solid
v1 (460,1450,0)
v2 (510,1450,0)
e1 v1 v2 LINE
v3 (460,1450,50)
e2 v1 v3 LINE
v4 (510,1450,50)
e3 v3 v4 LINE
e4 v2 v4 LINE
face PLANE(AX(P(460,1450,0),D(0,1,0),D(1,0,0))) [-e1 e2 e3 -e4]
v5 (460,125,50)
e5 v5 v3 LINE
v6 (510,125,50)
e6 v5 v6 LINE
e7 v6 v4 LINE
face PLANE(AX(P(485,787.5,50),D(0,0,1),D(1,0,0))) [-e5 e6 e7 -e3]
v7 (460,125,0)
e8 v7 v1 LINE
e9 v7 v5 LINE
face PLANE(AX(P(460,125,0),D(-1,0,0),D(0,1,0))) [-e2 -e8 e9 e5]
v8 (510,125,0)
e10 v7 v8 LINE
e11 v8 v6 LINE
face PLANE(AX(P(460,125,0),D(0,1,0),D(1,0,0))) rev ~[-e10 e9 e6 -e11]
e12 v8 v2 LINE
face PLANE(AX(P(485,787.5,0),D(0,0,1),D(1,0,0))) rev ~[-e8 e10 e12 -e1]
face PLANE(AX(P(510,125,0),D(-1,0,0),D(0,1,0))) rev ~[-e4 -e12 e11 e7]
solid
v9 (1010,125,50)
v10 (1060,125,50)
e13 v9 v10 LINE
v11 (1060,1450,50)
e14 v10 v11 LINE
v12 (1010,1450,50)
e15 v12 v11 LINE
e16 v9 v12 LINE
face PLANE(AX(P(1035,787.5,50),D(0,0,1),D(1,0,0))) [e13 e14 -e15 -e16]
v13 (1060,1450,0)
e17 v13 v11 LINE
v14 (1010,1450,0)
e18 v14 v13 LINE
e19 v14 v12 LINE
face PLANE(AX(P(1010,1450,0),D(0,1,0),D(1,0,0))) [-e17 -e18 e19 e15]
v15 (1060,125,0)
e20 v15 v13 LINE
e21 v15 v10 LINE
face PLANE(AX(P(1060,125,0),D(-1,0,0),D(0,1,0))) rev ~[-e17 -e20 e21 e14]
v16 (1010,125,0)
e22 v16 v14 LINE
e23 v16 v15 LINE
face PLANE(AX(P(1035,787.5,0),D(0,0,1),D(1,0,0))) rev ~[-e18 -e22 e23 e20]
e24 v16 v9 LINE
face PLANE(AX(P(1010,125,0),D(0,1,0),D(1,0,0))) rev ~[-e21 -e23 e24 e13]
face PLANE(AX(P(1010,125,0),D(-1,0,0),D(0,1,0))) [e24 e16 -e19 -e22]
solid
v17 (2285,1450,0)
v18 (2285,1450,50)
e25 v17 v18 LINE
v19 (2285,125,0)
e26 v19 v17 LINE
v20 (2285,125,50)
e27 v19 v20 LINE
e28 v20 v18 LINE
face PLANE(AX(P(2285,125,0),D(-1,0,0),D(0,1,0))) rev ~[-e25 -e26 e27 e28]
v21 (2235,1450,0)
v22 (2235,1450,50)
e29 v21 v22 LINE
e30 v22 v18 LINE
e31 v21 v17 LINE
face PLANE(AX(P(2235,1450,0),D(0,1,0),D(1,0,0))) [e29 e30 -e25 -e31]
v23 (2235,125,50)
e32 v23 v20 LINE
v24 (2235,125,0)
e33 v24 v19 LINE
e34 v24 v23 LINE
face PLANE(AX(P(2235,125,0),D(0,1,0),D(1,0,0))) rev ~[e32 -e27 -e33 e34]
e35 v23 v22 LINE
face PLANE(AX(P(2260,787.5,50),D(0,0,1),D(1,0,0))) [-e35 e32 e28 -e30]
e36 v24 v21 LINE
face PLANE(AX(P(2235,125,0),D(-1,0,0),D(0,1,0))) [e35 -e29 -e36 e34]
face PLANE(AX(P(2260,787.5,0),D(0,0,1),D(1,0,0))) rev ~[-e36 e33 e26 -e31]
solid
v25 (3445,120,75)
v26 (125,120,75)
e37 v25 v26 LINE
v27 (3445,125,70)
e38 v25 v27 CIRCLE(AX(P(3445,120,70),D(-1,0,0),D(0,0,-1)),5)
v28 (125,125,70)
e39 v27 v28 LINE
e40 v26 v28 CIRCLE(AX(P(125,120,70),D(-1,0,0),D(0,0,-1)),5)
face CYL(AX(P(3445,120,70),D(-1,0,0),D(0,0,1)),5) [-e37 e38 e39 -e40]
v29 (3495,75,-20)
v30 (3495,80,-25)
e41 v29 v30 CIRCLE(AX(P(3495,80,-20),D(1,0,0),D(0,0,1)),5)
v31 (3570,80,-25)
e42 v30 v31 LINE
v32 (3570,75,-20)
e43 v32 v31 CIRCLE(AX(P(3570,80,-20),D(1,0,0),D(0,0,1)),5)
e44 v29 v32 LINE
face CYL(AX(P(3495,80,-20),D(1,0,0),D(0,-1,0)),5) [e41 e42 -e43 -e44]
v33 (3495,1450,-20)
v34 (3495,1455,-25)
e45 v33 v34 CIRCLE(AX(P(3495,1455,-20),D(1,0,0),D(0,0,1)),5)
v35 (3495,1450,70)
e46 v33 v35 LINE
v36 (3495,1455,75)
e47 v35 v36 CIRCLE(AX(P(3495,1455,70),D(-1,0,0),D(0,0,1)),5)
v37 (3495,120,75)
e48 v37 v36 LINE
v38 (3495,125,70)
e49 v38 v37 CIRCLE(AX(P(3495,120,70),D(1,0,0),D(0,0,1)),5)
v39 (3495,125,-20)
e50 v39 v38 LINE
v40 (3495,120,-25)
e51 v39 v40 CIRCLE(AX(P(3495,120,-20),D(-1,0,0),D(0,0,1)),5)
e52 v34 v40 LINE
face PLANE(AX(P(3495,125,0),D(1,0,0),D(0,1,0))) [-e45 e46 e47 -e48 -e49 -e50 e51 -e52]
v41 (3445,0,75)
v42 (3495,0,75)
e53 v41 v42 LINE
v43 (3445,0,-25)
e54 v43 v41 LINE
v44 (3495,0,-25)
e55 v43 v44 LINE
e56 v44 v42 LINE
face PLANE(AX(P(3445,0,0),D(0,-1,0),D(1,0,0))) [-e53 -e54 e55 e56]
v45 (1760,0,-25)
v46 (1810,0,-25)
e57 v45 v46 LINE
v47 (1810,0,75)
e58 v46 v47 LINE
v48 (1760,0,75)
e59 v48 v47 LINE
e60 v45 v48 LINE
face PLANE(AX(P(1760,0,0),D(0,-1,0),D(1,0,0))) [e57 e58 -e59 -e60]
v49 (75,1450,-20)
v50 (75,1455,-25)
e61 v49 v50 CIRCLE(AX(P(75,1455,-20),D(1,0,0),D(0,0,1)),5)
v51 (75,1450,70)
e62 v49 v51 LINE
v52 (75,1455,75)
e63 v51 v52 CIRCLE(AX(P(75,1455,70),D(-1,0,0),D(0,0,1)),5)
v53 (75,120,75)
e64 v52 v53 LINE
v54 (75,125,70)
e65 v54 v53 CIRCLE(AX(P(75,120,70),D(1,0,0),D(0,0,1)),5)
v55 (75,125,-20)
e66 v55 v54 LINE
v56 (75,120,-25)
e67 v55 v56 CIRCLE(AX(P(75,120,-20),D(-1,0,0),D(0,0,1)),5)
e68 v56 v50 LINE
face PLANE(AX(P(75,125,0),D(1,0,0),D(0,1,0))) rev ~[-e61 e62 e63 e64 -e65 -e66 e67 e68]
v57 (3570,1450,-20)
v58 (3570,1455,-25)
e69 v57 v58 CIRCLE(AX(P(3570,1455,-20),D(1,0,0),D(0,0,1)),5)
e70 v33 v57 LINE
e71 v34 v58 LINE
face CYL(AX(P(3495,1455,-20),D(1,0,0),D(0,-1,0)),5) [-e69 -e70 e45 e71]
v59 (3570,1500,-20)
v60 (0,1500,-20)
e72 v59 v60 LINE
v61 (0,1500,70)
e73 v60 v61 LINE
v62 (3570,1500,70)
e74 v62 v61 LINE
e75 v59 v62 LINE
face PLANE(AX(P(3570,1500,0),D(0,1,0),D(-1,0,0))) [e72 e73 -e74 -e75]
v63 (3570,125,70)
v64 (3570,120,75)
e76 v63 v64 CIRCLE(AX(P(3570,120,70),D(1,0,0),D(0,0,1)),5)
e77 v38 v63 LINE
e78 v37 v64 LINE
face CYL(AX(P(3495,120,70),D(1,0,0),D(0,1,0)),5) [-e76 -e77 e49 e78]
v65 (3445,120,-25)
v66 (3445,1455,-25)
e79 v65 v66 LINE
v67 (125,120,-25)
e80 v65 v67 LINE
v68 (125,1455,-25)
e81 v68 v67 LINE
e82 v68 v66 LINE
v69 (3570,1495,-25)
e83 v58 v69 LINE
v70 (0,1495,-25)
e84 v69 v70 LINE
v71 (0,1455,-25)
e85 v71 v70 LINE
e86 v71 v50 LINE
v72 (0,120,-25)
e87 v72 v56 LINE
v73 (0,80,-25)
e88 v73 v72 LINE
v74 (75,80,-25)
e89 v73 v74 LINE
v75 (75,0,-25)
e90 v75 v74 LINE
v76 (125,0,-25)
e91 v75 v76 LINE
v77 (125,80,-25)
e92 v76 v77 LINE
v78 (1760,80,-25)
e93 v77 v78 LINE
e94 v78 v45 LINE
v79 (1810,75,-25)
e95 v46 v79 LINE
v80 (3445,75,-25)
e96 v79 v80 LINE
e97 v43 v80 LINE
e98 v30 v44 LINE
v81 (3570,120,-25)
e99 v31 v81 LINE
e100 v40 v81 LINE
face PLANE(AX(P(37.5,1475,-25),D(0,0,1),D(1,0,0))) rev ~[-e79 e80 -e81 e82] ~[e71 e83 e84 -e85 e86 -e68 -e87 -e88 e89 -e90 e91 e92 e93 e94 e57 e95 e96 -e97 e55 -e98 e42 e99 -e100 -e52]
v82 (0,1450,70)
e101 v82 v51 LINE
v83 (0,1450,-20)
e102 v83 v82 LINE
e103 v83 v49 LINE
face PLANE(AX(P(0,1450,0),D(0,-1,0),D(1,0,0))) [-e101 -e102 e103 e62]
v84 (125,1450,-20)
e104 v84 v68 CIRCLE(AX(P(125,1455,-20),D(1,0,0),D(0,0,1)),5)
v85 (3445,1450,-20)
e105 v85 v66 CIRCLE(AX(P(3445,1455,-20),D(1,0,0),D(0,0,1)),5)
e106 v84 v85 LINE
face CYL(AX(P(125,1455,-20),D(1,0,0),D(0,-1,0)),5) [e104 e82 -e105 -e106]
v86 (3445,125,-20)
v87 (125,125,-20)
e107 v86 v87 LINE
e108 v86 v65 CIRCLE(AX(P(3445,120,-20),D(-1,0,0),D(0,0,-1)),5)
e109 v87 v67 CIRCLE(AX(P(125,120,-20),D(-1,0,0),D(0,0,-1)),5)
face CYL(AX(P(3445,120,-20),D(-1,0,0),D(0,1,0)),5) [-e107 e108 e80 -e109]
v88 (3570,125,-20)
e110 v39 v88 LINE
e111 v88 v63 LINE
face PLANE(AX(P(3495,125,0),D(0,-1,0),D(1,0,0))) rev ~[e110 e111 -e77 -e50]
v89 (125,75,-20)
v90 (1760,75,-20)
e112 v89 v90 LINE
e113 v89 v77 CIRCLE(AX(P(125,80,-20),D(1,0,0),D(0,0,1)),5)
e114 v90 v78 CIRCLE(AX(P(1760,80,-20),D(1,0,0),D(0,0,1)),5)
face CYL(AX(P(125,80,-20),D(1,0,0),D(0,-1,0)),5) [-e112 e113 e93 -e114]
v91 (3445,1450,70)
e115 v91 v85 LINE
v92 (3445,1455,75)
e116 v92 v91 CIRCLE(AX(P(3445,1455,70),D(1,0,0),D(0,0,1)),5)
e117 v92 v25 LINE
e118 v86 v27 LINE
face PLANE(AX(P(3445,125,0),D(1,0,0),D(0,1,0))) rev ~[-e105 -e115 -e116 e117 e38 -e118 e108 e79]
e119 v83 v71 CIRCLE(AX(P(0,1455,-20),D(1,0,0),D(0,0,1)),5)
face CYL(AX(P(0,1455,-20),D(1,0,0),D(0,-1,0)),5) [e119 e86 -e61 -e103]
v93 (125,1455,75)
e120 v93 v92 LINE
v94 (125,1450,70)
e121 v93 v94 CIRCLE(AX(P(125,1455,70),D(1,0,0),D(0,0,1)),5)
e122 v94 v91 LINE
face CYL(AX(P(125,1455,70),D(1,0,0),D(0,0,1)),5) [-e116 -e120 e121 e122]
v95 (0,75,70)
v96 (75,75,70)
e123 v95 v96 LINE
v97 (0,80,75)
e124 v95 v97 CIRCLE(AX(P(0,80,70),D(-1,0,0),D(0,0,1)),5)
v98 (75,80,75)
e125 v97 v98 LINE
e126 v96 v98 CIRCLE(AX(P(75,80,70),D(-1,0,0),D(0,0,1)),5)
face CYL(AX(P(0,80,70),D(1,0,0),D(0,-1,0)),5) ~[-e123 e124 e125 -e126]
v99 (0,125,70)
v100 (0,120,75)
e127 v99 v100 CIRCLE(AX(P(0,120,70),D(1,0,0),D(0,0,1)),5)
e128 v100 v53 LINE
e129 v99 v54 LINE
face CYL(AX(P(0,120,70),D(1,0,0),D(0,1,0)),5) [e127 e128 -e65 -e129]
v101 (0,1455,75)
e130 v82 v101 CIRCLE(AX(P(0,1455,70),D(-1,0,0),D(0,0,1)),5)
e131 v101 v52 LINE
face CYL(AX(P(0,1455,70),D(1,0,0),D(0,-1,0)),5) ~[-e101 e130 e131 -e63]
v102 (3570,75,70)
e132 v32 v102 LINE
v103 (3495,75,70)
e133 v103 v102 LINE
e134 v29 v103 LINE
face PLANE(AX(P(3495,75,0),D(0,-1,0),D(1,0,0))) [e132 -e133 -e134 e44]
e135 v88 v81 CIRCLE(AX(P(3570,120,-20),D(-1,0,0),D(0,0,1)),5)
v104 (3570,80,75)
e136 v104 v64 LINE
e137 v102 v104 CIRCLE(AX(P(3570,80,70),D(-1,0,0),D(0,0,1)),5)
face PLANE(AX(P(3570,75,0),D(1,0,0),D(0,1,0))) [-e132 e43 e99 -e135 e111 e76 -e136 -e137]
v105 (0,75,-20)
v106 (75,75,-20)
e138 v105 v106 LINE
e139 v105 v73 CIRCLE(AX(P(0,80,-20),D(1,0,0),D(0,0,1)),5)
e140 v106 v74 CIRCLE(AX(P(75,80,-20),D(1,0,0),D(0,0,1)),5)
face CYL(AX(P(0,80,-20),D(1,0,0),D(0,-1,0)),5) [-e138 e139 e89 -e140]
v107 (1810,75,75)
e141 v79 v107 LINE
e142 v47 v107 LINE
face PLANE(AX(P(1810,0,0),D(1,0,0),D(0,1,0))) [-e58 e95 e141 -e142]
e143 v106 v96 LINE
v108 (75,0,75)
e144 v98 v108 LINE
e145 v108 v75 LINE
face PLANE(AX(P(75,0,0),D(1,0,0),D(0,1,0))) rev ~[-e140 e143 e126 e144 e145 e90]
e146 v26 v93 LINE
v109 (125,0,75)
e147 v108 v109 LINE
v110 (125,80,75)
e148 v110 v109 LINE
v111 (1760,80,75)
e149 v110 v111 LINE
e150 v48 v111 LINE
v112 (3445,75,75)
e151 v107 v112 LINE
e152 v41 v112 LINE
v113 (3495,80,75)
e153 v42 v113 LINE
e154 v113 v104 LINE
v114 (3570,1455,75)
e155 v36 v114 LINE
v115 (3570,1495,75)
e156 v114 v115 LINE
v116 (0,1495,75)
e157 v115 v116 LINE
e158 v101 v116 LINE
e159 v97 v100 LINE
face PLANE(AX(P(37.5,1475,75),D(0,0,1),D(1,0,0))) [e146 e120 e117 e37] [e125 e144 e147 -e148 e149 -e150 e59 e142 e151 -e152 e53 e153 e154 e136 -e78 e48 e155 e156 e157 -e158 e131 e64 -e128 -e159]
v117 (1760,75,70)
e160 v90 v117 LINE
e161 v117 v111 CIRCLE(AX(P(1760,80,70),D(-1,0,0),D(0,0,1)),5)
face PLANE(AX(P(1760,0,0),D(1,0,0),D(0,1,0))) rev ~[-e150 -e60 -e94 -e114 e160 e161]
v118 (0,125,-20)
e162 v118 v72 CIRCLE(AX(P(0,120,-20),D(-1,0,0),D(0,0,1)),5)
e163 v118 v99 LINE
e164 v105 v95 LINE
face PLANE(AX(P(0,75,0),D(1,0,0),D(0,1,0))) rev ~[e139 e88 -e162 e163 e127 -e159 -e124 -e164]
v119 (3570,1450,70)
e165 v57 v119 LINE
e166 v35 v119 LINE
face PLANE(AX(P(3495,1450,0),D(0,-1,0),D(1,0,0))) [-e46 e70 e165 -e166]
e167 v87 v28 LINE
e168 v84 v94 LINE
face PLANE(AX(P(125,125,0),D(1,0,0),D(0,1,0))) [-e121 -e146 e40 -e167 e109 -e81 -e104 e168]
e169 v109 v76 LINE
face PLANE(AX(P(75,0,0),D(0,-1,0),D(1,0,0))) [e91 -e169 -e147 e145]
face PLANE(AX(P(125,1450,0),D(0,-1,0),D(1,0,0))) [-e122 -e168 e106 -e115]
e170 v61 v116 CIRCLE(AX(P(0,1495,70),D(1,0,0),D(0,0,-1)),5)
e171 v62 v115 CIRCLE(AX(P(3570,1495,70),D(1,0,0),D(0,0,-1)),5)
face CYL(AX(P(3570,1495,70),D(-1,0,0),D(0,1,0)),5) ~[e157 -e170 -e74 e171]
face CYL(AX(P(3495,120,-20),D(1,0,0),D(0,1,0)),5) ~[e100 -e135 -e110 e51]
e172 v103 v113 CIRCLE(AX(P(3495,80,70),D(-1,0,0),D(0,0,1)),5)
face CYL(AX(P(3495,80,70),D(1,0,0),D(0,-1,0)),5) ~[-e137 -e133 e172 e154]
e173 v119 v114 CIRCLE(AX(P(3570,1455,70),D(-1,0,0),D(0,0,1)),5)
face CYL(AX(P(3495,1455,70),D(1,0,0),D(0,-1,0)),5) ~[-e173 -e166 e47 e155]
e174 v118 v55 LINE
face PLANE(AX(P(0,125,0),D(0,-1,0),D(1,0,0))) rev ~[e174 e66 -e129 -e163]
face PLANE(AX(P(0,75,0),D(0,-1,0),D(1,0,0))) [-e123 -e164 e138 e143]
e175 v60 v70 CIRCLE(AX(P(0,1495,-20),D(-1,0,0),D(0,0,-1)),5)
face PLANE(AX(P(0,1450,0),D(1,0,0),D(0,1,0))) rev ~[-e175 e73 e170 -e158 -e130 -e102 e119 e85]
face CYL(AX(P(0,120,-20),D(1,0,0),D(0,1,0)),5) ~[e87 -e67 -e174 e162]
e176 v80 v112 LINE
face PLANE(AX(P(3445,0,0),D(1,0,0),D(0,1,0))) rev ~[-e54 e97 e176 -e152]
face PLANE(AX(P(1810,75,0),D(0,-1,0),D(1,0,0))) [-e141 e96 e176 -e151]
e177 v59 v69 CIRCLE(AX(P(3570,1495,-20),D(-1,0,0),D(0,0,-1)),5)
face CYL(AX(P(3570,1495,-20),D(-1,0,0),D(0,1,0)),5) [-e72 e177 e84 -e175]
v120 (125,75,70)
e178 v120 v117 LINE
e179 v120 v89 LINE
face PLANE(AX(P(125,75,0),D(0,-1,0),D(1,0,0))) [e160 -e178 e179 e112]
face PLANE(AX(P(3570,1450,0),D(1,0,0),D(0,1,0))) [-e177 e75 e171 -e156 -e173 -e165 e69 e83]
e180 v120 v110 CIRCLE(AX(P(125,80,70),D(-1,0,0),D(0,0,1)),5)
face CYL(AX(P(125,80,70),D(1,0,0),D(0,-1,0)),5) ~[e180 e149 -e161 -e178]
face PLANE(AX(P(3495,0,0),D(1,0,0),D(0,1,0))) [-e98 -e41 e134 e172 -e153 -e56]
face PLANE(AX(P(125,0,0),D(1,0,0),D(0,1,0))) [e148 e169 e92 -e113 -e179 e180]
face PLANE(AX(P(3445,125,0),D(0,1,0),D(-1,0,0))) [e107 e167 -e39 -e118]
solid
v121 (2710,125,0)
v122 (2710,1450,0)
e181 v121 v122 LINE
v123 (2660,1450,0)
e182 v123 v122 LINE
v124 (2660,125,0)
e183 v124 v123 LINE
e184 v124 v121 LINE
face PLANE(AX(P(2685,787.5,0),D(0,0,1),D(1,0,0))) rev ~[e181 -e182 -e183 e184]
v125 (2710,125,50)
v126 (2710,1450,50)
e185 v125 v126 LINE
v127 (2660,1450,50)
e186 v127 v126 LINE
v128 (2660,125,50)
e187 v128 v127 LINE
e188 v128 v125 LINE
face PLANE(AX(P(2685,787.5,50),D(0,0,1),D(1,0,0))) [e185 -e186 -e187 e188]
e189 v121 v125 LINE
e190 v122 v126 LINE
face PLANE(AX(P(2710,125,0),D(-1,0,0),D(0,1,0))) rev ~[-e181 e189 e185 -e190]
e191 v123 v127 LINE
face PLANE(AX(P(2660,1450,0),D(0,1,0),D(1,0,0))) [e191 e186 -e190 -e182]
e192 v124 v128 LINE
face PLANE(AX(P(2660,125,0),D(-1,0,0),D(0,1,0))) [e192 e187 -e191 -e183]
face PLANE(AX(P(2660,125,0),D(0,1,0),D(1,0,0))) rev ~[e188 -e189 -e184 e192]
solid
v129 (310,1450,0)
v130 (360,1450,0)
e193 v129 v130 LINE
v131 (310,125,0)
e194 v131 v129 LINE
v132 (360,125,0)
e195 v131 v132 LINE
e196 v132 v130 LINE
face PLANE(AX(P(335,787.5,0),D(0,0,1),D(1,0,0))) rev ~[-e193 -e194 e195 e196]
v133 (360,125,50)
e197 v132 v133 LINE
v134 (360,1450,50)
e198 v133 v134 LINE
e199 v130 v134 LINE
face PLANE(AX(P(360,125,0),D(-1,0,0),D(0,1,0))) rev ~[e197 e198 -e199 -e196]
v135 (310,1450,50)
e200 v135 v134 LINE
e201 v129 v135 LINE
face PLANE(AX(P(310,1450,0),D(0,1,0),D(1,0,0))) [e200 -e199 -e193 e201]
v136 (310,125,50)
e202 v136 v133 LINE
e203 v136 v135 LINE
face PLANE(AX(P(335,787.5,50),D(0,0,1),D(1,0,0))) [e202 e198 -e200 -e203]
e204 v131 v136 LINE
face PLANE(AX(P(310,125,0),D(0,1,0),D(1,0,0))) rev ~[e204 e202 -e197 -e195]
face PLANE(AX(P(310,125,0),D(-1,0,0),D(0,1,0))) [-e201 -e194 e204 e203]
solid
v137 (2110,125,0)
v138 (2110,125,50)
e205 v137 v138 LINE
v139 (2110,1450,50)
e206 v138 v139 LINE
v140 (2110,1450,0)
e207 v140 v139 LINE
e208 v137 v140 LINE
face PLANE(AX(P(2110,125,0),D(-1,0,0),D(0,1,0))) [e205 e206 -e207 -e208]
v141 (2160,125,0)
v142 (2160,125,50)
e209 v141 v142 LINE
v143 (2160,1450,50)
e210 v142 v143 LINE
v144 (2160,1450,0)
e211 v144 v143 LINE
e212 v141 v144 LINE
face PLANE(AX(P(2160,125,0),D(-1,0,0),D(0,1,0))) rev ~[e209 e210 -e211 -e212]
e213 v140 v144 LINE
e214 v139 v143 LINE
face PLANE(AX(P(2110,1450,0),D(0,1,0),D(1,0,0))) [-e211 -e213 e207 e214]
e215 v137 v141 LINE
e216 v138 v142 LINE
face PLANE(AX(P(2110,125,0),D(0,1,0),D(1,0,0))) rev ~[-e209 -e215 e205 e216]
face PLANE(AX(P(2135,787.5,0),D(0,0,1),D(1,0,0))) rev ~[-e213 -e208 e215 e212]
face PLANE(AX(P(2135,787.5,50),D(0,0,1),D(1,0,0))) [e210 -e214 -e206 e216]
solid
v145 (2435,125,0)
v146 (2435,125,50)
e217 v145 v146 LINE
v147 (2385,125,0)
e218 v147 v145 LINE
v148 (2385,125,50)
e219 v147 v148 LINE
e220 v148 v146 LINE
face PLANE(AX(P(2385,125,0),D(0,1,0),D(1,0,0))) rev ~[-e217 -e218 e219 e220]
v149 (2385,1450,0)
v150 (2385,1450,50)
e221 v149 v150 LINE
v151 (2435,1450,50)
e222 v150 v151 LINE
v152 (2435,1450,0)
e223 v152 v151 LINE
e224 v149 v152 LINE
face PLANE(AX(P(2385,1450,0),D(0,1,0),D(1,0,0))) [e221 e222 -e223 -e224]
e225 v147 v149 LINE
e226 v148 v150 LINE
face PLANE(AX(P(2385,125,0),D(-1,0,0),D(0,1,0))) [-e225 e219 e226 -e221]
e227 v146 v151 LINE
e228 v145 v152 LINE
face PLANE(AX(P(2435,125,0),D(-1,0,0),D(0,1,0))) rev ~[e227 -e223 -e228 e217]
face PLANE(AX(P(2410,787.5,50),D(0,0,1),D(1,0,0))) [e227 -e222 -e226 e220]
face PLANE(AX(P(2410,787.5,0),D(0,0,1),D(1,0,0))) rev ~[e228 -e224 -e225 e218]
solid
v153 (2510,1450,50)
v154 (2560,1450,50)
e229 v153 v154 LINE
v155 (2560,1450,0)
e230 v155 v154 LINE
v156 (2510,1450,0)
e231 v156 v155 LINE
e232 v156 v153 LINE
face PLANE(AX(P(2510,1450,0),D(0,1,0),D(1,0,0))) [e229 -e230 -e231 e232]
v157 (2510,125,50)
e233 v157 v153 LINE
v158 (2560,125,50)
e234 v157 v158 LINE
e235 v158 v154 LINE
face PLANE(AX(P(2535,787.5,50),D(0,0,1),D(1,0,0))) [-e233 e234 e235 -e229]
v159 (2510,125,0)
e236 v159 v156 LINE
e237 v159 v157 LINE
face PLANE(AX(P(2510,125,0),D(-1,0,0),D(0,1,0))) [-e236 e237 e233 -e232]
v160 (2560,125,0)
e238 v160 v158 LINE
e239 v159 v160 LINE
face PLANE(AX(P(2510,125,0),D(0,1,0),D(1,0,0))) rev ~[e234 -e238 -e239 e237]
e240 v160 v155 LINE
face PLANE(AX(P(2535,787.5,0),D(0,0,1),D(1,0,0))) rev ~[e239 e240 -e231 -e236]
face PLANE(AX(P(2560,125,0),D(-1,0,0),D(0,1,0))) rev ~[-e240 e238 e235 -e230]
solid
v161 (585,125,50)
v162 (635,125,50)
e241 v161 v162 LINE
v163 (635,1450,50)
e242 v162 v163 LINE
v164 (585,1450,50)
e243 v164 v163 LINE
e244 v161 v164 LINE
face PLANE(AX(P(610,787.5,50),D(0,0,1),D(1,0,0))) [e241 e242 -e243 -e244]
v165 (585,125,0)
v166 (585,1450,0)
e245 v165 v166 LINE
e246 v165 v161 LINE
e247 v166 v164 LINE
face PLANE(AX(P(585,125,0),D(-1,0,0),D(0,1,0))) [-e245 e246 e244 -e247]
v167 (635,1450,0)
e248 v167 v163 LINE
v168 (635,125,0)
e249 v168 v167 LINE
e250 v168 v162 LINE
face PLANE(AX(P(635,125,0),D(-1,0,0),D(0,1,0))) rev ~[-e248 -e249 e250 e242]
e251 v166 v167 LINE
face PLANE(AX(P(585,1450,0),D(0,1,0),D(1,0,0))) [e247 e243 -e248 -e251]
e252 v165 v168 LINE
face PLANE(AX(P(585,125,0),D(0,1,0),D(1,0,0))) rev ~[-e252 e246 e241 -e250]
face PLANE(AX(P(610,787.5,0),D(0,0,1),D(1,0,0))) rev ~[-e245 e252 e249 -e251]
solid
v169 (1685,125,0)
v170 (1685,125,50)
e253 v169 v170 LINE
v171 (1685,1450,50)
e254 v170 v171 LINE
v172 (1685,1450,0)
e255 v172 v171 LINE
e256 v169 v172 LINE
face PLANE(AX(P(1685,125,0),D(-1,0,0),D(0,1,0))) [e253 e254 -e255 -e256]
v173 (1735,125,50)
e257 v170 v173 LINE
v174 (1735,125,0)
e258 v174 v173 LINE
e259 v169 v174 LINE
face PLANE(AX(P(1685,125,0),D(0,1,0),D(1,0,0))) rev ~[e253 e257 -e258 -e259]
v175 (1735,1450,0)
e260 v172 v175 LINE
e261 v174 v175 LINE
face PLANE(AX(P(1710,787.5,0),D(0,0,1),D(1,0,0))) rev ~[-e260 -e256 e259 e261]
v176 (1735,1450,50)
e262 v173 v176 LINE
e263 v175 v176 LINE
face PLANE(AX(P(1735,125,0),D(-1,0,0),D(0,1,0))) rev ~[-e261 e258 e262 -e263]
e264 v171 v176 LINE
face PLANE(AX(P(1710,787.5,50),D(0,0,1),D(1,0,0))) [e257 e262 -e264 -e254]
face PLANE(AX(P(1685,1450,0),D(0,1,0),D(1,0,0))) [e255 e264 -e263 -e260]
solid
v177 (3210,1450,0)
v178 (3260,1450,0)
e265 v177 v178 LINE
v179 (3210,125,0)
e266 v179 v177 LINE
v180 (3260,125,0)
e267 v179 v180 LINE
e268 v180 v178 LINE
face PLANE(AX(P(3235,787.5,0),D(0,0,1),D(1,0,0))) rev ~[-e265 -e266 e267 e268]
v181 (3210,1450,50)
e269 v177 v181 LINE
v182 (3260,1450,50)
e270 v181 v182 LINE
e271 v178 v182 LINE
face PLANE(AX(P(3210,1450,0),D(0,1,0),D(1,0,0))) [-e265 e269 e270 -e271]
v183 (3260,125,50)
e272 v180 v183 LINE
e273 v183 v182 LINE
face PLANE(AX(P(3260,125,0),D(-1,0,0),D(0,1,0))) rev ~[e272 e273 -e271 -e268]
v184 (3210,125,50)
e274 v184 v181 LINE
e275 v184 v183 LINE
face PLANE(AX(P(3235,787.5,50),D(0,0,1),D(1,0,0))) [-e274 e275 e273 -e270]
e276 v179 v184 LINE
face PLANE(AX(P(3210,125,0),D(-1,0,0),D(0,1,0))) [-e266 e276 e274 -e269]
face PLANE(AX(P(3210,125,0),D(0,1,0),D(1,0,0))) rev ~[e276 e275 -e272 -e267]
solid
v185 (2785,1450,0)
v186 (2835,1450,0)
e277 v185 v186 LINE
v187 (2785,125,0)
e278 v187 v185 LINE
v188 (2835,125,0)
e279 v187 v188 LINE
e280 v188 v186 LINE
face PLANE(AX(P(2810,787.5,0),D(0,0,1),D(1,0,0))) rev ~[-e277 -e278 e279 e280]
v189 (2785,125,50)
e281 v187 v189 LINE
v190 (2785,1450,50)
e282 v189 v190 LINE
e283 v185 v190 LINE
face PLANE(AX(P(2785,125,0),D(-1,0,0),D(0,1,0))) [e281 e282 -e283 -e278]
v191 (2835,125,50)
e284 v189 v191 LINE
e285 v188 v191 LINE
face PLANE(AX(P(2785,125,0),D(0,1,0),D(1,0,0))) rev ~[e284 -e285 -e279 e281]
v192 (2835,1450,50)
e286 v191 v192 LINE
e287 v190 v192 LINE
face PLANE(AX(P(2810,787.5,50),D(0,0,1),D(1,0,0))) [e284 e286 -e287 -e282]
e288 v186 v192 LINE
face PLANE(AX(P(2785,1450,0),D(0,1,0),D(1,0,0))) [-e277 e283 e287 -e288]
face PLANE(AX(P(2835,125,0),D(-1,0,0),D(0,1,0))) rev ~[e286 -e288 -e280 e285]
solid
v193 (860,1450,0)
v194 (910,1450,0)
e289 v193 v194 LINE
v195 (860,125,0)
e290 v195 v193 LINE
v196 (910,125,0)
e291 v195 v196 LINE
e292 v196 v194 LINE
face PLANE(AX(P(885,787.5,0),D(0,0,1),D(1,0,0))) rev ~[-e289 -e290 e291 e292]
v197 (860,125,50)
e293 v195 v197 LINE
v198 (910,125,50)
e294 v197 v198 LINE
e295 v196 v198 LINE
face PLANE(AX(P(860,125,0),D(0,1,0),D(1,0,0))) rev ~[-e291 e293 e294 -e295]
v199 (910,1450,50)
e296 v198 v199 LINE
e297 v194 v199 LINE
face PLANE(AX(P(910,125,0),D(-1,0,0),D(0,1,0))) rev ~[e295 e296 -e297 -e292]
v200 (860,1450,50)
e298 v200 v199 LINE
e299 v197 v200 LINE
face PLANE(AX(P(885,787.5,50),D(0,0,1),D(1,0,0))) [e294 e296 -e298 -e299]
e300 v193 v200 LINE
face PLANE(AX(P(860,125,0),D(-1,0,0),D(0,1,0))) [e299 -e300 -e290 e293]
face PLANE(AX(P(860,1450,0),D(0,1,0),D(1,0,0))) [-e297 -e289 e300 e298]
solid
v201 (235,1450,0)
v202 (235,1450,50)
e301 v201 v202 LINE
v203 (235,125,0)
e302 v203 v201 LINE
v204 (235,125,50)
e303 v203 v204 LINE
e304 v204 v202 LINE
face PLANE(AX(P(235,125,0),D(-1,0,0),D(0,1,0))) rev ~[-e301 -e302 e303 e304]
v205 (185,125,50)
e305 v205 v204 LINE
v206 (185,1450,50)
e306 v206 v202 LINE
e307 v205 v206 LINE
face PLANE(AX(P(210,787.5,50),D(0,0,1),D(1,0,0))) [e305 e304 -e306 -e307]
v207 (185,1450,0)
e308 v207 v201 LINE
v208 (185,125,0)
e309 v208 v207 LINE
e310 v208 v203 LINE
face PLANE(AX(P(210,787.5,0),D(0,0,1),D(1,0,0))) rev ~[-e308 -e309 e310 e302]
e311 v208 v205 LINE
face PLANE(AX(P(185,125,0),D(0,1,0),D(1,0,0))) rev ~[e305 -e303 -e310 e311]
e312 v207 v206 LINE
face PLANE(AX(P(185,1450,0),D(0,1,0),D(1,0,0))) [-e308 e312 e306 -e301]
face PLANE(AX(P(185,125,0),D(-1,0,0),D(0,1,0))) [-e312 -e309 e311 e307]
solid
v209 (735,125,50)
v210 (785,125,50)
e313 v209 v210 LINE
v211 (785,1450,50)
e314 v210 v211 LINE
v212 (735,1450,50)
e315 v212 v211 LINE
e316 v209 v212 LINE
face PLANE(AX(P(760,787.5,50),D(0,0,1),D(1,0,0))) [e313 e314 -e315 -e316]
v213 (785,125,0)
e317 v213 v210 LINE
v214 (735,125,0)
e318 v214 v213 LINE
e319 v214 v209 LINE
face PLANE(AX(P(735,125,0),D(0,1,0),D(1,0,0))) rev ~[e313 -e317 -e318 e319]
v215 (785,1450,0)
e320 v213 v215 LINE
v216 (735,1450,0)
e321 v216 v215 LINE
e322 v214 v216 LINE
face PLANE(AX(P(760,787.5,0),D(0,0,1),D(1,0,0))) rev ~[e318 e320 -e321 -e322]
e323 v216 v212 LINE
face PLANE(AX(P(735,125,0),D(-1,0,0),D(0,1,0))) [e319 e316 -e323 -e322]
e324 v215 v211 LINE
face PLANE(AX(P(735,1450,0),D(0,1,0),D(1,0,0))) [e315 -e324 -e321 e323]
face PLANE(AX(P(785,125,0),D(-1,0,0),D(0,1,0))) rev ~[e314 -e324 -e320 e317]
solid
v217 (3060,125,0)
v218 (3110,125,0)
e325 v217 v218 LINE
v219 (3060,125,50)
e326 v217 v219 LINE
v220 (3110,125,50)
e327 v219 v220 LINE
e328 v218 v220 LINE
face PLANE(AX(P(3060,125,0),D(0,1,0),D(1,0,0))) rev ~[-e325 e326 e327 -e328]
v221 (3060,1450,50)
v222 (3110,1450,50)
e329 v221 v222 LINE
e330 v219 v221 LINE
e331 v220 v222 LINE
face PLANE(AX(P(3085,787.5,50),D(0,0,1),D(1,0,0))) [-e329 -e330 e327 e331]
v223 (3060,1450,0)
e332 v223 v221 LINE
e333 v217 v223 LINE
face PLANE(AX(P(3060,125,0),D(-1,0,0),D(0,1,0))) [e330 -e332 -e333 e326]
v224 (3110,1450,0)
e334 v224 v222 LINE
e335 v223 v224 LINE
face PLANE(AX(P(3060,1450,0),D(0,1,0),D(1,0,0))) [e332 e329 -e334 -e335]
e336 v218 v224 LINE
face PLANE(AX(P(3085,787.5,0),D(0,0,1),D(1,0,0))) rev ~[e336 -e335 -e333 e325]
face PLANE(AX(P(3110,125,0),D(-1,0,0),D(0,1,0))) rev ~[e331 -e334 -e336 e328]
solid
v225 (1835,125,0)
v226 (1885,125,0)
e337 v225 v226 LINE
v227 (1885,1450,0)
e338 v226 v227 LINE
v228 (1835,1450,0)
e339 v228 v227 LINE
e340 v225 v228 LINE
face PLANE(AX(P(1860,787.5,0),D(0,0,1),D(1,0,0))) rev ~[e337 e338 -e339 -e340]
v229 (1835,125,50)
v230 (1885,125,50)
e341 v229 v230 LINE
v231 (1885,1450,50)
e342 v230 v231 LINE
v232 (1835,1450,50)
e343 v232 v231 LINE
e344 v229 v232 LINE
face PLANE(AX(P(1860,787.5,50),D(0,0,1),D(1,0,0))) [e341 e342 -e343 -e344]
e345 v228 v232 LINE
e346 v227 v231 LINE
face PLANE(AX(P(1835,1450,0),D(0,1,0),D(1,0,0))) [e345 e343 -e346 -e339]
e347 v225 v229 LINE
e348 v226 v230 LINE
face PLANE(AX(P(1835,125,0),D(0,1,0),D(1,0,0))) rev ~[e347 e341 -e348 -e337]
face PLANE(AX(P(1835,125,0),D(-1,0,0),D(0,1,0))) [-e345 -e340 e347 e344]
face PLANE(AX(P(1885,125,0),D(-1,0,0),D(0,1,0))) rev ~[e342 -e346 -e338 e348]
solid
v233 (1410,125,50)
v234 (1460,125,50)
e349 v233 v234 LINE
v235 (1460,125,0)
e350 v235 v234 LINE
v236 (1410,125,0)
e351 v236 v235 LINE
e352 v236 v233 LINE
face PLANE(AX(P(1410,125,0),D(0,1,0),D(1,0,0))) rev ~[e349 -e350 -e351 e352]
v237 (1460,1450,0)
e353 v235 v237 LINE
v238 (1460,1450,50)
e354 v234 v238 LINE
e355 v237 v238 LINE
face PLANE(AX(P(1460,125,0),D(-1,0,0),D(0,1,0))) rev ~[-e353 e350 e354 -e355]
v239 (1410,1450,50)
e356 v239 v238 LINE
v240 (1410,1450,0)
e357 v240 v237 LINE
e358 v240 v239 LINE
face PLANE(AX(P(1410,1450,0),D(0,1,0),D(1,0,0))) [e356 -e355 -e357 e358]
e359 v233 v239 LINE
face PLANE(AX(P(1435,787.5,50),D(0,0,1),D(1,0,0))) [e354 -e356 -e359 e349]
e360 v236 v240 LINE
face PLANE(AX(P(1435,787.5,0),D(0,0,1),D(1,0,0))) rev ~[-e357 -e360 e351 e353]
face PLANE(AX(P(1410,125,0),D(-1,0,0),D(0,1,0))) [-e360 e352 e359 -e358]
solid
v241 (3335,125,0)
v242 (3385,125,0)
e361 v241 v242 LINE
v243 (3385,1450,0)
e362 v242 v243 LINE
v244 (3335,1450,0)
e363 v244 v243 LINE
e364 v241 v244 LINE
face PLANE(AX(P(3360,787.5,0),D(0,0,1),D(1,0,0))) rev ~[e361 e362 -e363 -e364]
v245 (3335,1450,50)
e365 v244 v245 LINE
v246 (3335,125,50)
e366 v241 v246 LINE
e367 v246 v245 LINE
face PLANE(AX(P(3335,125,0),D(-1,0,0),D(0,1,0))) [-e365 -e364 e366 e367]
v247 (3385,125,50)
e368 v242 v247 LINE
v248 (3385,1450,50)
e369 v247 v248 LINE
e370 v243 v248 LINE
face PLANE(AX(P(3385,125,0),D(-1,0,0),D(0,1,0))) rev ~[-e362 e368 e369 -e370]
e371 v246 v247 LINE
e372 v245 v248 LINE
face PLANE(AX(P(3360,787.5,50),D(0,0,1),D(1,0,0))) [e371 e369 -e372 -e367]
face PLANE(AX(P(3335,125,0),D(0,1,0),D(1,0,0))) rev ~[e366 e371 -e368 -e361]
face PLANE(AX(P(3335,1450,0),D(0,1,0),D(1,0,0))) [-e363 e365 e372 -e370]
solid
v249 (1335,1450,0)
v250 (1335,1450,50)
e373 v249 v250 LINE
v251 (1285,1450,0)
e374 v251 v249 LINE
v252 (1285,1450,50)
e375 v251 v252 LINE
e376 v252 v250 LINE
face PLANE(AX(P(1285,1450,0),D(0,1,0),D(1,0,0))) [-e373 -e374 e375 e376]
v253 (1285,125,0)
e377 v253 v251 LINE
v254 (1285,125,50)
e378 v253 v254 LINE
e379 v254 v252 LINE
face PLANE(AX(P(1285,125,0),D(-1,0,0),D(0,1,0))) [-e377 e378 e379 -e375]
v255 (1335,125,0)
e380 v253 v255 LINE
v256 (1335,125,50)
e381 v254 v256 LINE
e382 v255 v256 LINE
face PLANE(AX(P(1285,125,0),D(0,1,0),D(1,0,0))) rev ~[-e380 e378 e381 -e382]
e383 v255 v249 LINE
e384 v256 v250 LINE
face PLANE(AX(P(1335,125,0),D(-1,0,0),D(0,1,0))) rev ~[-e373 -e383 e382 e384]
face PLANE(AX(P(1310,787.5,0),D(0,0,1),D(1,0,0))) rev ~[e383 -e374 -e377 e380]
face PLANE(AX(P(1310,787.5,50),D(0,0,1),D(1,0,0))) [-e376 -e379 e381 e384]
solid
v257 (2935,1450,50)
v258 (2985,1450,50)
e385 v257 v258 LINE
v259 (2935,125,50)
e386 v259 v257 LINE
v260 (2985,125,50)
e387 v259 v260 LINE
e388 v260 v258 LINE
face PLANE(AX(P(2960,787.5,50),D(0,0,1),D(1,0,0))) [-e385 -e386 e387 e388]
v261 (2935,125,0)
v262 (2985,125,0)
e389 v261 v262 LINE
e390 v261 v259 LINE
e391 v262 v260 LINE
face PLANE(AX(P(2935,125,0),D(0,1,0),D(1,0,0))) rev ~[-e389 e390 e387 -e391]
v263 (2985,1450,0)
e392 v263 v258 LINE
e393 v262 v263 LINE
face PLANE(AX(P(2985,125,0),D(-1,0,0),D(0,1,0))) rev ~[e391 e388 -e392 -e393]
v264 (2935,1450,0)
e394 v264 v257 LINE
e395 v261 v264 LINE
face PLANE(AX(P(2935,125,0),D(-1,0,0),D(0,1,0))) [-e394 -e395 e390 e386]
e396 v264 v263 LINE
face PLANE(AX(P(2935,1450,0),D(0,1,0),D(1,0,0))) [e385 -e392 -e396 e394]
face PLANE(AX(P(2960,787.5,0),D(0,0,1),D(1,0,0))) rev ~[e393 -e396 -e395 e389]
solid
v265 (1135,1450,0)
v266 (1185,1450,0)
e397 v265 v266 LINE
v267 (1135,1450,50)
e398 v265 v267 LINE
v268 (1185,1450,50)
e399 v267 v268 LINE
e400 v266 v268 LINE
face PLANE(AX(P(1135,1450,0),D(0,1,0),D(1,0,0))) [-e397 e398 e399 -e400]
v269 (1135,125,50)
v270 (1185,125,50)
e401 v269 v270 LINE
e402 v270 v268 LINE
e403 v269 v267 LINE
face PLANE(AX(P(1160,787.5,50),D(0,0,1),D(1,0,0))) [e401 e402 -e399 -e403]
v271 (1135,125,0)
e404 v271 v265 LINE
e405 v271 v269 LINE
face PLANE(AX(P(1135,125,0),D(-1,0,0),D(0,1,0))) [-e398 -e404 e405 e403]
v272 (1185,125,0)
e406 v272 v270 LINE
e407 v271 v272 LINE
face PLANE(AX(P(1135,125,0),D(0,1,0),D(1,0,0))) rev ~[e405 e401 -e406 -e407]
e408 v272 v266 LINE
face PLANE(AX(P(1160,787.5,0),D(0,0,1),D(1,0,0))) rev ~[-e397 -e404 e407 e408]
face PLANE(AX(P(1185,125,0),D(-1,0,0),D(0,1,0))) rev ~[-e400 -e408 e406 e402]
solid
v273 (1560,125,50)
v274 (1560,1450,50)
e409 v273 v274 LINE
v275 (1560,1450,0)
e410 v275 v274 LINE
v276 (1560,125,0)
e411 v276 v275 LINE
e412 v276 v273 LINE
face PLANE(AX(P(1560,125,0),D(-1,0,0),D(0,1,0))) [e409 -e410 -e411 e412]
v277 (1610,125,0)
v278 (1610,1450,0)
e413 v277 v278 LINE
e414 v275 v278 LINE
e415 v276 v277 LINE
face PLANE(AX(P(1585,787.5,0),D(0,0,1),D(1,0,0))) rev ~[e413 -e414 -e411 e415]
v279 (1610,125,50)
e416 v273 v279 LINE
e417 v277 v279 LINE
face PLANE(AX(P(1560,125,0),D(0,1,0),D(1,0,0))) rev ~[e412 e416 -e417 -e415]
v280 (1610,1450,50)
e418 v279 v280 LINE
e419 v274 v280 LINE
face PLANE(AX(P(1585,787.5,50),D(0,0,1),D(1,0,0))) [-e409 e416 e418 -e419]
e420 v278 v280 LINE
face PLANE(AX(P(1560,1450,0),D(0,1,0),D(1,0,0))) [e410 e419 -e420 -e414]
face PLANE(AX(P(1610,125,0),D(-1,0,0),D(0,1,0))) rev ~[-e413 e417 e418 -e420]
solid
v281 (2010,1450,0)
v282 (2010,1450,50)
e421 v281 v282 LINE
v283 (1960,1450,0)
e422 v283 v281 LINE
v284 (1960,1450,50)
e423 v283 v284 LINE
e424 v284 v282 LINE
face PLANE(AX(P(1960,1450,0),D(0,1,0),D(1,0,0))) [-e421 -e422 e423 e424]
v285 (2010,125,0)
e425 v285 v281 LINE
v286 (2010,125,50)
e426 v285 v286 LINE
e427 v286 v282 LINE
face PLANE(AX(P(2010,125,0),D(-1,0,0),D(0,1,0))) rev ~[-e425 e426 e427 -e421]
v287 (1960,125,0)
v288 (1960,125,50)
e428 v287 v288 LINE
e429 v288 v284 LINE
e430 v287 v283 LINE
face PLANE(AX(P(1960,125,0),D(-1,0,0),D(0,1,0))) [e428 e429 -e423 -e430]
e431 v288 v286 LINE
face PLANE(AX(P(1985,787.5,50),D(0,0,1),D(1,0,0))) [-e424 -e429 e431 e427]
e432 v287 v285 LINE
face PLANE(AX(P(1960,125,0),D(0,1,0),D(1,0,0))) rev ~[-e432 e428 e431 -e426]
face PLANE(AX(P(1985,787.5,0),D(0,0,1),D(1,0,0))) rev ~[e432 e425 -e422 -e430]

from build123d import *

# Parameters (mm, degrees)
F0_W          = 75
F0_H          = 50
F0_W_2        = 50
F0_W_3        = 3320
F0_H_2        = 1325
F0_H_3        = 75
F1_DEPTH      = 75
F1_DEPTH_BACK = 25
F2_R          = 5
F3_W          = 50
F3_H          = 1325
F4_DEPTH      = 50


with BuildPart() as f1:
    # F0 (on Top) → F1 (new body, two sides)
    with BuildSketch(Plane.XY) as f1_sk:
        with Locations((37.5, 1475)):
            Rectangle(F0_W, F0_H)
        with Locations((100, 1475)):
            Rectangle(F0_W_2, F0_H)
        with Locations((1785, 1475)):
            Rectangle(F0_W_3, F0_H)
        with Locations((100, 787.5)):
            Rectangle(F0_W_2, F0_H_2)
        with Locations((3470, 1475)):
            Rectangle(F0_W_2, F0_H)
        with Locations((37.5, 100)):
            Rectangle(F0_W, F0_H)
        with Locations((100, 100)):
            Rectangle(F0_W_2, F0_H)
        with Locations((3532.5, 1475)):
            Rectangle(F0_W, F0_H)
        with Locations((3470, 787.5)):
            Rectangle(F0_W_2, F0_H_2)
        Polygon((3445, 125), (125, 125), (125, 75), (1760, 75), (1810, 75), (3445, 75), align=None)
        with Locations((100, 37.5)):
            Rectangle(F0_W_2, F0_H_3)
        with Locations((3470, 100)):
            Rectangle(F0_W_2, F0_H)
        with Locations((3532.5, 100)):
            Rectangle(F0_W, F0_H)
        with Locations((3470, 37.5)):
            Rectangle(F0_W_2, F0_H_3)
        with Locations((1785, 37.5)):
            Rectangle(F0_W_2, F0_H_3)
    extrude(amount=F1_DEPTH)
    extrude(f1_sk.sketch, amount=-F1_DEPTH_BACK)

    # F2
    f2_edges = [f1.edges().sort_by_distance(p)[0] for p in [
        (1785, 1450, 75),
        (1785, 1500, 75),
        (1785, 125, 75),
        (942.5, 75, 75),
        (37.5, 75, 75),
        (37.5, 125, 75),
        (3532.5, 125, 75),
        (3532.5, 75, 75),
        (3532.5, 1450, 75),
        (37.5, 1450, 75),
        (1785, 1500, -25),
        (1785, 1450, -25),
        (3532.5, 1450, -25),
        (3532.5, 75, -25),
        (3532.5, 125, -25),
        (1785, 125, -25),
        (942.5, 75, -25),
        (37.5, 125, -25),
        (37.5, 75, -25),
        (37.5, 1450, -25),
    ]]
    fillet(f2_edges, radius=F2_R)


with BuildPart() as f4:
    # F3 (on Top) → F4 (new body)
    with BuildSketch(Plane.XY):
        with Locations((210, 787.5)):
            Rectangle(F3_W, F3_H)
    extrude(amount=F4_DEPTH)


with BuildPart() as f4b:
    # F3 (on Top) → F4, piece 2 (new body)
    with BuildSketch(Plane.XY):
        with Locations((335, 787.5)):
            Rectangle(F3_W, F3_H)
    extrude(amount=F4_DEPTH)


with BuildPart() as f4c:
    # F3 (on Top) → F4, piece 3 (new body)
    with BuildSketch(Plane.XY):
        with Locations((610, 787.5)):
            Rectangle(F3_W, F3_H)
    extrude(amount=F4_DEPTH)


with BuildPart() as f4d:
    # F3 (on Top) → F4, piece 4 (new body)
    with BuildSketch(Plane.XY):
        with Locations((485, 787.5)):
            Rectangle(F3_W, F3_H)
    extrude(amount=F4_DEPTH)


with BuildPart() as f4e:
    # F3 (on Top) → F4, piece 5 (new body)
    with BuildSketch(Plane.XY):
        with Locations((885, 787.5)):
            Rectangle(F3_W, F3_H)
    extrude(amount=F4_DEPTH)


with BuildPart() as f4f:
    # F3 (on Top) → F4, piece 6 (new body)
    with BuildSketch(Plane.XY):
        with Locations((760, 787.5)):
            Rectangle(F3_W, F3_H)
    extrude(amount=F4_DEPTH)


with BuildPart() as f4g:
    # F3 (on Top) → F4, piece 7 (new body)
    with BuildSketch(Plane.XY):
        with Locations((1160, 787.5)):
            Rectangle(F3_W, F3_H)
    extrude(amount=F4_DEPTH)


with BuildPart() as f4h:
    # F3 (on Top) → F4, piece 8 (new body)
    with BuildSketch(Plane.XY):
        with Locations((1035, 787.5)):
            Rectangle(F3_W, F3_H)
    extrude(amount=F4_DEPTH)


with BuildPart() as f4i:
    # F3 (on Top) → F4, piece 9 (new body)
    with BuildSketch(Plane.XY):
        with Locations((1435, 787.5)):
            Rectangle(F3_W, F3_H)
    extrude(amount=F4_DEPTH)


with BuildPart() as f4j:
    # F3 (on Top) → F4, piece 10 (new body)
    with BuildSketch(Plane.XY):
        with Locations((1310, 787.5)):
            Rectangle(F3_W, F3_H)
    extrude(amount=F4_DEPTH)


with BuildPart() as f4k:
    # F3 (on Top) → F4, piece 11 (new body)
    with BuildSketch(Plane.XY):
        with Locations((1710, 787.5)):
            Rectangle(F3_W, F3_H)
    extrude(amount=F4_DEPTH)


with BuildPart() as f4l:
    # F3 (on Top) → F4, piece 12 (new body)
    with BuildSketch(Plane.XY):
        with Locations((1585, 787.5)):
            Rectangle(F3_W, F3_H)
    extrude(amount=F4_DEPTH)


with BuildPart() as f4m:
    # F3 (on Top) → F4, piece 13 (new body)
    with BuildSketch(Plane.XY):
        with Locations((1985, 787.5)):
            Rectangle(F3_W, F3_H)
    extrude(amount=F4_DEPTH)


with BuildPart() as f4n:
    # F3 (on Top) → F4, piece 14 (new body)
    with BuildSketch(Plane.XY):
        with Locations((1860, 787.5)):
            Rectangle(F3_W, F3_H)
    extrude(amount=F4_DEPTH)


with BuildPart() as f4o:
    # F3 (on Top) → F4, piece 15 (new body)
    with BuildSketch(Plane.XY):
        with Locations((2260, 787.5)):
            Rectangle(F3_W, F3_H)
    extrude(amount=F4_DEPTH)


with BuildPart() as f4p:
    # F3 (on Top) → F4, piece 16 (new body)
    with BuildSketch(Plane.XY):
        with Locations((2135, 787.5)):
            Rectangle(F3_W, F3_H)
    extrude(amount=F4_DEPTH)


with BuildPart() as f4q:
    # F3 (on Top) → F4, piece 17 (new body)
    with BuildSketch(Plane.XY):
        with Locations((2535, 787.5)):
            Rectangle(F3_W, F3_H)
    extrude(amount=F4_DEPTH)


with BuildPart() as f4r:
    # F3 (on Top) → F4, piece 18 (new body)
    with BuildSketch(Plane.XY):
        with Locations((2410, 787.5)):
            Rectangle(F3_W, F3_H)
    extrude(amount=F4_DEPTH)


with BuildPart() as f4s:
    # F3 (on Top) → F4, piece 19 (new body)
    with BuildSketch(Plane.XY):
        with Locations((2810, 787.5)):
            Rectangle(F3_W, F3_H)
    extrude(amount=F4_DEPTH)


with BuildPart() as f4t:
    # F3 (on Top) → F4, piece 20 (new body)
    with BuildSketch(Plane.XY):
        with Locations((2685, 787.5)):
            Rectangle(F3_W, F3_H)
    extrude(amount=F4_DEPTH)


with BuildPart() as f4u:
    # F3 (on Top) → F4, piece 21 (new body)
    with BuildSketch(Plane.XY):
        with Locations((3085, 787.5)):
            Rectangle(F3_W, F3_H)
    extrude(amount=F4_DEPTH)


with BuildPart() as f4v:
    # F3 (on Top) → F4, piece 22 (new body)
    with BuildSketch(Plane.XY):
        with Locations((2960, 787.5)):
            Rectangle(F3_W, F3_H)
    extrude(amount=F4_DEPTH)


with BuildPart() as f4w:
    # F3 (on Top) → F4, piece 23 (new body)
    with BuildSketch(Plane.XY):
        with Locations((3360, 787.5)):
            Rectangle(F3_W, F3_H)
    extrude(amount=F4_DEPTH)


with BuildPart() as f4x:
    # F3 (on Top) → F4, piece 24 (new body)
    with BuildSketch(Plane.XY):
        with Locations((3235, 787.5)):
            Rectangle(F3_W, F3_H)
    extrude(amount=F4_DEPTH)


solid = Compound([f1.part, f4.part, f4b.part, f4c.part, f4d.part, f4e.part, f4f.part, f4g.part, f4h.part, f4i.part, f4j.part, f4k.part, f4l.part, f4m.part, f4n.part, f4o.part, f4p.part, f4q.part, f4r.part, f4s.part, f4t.part, f4u.part, f4v.part, f4w.part, f4x.part])
